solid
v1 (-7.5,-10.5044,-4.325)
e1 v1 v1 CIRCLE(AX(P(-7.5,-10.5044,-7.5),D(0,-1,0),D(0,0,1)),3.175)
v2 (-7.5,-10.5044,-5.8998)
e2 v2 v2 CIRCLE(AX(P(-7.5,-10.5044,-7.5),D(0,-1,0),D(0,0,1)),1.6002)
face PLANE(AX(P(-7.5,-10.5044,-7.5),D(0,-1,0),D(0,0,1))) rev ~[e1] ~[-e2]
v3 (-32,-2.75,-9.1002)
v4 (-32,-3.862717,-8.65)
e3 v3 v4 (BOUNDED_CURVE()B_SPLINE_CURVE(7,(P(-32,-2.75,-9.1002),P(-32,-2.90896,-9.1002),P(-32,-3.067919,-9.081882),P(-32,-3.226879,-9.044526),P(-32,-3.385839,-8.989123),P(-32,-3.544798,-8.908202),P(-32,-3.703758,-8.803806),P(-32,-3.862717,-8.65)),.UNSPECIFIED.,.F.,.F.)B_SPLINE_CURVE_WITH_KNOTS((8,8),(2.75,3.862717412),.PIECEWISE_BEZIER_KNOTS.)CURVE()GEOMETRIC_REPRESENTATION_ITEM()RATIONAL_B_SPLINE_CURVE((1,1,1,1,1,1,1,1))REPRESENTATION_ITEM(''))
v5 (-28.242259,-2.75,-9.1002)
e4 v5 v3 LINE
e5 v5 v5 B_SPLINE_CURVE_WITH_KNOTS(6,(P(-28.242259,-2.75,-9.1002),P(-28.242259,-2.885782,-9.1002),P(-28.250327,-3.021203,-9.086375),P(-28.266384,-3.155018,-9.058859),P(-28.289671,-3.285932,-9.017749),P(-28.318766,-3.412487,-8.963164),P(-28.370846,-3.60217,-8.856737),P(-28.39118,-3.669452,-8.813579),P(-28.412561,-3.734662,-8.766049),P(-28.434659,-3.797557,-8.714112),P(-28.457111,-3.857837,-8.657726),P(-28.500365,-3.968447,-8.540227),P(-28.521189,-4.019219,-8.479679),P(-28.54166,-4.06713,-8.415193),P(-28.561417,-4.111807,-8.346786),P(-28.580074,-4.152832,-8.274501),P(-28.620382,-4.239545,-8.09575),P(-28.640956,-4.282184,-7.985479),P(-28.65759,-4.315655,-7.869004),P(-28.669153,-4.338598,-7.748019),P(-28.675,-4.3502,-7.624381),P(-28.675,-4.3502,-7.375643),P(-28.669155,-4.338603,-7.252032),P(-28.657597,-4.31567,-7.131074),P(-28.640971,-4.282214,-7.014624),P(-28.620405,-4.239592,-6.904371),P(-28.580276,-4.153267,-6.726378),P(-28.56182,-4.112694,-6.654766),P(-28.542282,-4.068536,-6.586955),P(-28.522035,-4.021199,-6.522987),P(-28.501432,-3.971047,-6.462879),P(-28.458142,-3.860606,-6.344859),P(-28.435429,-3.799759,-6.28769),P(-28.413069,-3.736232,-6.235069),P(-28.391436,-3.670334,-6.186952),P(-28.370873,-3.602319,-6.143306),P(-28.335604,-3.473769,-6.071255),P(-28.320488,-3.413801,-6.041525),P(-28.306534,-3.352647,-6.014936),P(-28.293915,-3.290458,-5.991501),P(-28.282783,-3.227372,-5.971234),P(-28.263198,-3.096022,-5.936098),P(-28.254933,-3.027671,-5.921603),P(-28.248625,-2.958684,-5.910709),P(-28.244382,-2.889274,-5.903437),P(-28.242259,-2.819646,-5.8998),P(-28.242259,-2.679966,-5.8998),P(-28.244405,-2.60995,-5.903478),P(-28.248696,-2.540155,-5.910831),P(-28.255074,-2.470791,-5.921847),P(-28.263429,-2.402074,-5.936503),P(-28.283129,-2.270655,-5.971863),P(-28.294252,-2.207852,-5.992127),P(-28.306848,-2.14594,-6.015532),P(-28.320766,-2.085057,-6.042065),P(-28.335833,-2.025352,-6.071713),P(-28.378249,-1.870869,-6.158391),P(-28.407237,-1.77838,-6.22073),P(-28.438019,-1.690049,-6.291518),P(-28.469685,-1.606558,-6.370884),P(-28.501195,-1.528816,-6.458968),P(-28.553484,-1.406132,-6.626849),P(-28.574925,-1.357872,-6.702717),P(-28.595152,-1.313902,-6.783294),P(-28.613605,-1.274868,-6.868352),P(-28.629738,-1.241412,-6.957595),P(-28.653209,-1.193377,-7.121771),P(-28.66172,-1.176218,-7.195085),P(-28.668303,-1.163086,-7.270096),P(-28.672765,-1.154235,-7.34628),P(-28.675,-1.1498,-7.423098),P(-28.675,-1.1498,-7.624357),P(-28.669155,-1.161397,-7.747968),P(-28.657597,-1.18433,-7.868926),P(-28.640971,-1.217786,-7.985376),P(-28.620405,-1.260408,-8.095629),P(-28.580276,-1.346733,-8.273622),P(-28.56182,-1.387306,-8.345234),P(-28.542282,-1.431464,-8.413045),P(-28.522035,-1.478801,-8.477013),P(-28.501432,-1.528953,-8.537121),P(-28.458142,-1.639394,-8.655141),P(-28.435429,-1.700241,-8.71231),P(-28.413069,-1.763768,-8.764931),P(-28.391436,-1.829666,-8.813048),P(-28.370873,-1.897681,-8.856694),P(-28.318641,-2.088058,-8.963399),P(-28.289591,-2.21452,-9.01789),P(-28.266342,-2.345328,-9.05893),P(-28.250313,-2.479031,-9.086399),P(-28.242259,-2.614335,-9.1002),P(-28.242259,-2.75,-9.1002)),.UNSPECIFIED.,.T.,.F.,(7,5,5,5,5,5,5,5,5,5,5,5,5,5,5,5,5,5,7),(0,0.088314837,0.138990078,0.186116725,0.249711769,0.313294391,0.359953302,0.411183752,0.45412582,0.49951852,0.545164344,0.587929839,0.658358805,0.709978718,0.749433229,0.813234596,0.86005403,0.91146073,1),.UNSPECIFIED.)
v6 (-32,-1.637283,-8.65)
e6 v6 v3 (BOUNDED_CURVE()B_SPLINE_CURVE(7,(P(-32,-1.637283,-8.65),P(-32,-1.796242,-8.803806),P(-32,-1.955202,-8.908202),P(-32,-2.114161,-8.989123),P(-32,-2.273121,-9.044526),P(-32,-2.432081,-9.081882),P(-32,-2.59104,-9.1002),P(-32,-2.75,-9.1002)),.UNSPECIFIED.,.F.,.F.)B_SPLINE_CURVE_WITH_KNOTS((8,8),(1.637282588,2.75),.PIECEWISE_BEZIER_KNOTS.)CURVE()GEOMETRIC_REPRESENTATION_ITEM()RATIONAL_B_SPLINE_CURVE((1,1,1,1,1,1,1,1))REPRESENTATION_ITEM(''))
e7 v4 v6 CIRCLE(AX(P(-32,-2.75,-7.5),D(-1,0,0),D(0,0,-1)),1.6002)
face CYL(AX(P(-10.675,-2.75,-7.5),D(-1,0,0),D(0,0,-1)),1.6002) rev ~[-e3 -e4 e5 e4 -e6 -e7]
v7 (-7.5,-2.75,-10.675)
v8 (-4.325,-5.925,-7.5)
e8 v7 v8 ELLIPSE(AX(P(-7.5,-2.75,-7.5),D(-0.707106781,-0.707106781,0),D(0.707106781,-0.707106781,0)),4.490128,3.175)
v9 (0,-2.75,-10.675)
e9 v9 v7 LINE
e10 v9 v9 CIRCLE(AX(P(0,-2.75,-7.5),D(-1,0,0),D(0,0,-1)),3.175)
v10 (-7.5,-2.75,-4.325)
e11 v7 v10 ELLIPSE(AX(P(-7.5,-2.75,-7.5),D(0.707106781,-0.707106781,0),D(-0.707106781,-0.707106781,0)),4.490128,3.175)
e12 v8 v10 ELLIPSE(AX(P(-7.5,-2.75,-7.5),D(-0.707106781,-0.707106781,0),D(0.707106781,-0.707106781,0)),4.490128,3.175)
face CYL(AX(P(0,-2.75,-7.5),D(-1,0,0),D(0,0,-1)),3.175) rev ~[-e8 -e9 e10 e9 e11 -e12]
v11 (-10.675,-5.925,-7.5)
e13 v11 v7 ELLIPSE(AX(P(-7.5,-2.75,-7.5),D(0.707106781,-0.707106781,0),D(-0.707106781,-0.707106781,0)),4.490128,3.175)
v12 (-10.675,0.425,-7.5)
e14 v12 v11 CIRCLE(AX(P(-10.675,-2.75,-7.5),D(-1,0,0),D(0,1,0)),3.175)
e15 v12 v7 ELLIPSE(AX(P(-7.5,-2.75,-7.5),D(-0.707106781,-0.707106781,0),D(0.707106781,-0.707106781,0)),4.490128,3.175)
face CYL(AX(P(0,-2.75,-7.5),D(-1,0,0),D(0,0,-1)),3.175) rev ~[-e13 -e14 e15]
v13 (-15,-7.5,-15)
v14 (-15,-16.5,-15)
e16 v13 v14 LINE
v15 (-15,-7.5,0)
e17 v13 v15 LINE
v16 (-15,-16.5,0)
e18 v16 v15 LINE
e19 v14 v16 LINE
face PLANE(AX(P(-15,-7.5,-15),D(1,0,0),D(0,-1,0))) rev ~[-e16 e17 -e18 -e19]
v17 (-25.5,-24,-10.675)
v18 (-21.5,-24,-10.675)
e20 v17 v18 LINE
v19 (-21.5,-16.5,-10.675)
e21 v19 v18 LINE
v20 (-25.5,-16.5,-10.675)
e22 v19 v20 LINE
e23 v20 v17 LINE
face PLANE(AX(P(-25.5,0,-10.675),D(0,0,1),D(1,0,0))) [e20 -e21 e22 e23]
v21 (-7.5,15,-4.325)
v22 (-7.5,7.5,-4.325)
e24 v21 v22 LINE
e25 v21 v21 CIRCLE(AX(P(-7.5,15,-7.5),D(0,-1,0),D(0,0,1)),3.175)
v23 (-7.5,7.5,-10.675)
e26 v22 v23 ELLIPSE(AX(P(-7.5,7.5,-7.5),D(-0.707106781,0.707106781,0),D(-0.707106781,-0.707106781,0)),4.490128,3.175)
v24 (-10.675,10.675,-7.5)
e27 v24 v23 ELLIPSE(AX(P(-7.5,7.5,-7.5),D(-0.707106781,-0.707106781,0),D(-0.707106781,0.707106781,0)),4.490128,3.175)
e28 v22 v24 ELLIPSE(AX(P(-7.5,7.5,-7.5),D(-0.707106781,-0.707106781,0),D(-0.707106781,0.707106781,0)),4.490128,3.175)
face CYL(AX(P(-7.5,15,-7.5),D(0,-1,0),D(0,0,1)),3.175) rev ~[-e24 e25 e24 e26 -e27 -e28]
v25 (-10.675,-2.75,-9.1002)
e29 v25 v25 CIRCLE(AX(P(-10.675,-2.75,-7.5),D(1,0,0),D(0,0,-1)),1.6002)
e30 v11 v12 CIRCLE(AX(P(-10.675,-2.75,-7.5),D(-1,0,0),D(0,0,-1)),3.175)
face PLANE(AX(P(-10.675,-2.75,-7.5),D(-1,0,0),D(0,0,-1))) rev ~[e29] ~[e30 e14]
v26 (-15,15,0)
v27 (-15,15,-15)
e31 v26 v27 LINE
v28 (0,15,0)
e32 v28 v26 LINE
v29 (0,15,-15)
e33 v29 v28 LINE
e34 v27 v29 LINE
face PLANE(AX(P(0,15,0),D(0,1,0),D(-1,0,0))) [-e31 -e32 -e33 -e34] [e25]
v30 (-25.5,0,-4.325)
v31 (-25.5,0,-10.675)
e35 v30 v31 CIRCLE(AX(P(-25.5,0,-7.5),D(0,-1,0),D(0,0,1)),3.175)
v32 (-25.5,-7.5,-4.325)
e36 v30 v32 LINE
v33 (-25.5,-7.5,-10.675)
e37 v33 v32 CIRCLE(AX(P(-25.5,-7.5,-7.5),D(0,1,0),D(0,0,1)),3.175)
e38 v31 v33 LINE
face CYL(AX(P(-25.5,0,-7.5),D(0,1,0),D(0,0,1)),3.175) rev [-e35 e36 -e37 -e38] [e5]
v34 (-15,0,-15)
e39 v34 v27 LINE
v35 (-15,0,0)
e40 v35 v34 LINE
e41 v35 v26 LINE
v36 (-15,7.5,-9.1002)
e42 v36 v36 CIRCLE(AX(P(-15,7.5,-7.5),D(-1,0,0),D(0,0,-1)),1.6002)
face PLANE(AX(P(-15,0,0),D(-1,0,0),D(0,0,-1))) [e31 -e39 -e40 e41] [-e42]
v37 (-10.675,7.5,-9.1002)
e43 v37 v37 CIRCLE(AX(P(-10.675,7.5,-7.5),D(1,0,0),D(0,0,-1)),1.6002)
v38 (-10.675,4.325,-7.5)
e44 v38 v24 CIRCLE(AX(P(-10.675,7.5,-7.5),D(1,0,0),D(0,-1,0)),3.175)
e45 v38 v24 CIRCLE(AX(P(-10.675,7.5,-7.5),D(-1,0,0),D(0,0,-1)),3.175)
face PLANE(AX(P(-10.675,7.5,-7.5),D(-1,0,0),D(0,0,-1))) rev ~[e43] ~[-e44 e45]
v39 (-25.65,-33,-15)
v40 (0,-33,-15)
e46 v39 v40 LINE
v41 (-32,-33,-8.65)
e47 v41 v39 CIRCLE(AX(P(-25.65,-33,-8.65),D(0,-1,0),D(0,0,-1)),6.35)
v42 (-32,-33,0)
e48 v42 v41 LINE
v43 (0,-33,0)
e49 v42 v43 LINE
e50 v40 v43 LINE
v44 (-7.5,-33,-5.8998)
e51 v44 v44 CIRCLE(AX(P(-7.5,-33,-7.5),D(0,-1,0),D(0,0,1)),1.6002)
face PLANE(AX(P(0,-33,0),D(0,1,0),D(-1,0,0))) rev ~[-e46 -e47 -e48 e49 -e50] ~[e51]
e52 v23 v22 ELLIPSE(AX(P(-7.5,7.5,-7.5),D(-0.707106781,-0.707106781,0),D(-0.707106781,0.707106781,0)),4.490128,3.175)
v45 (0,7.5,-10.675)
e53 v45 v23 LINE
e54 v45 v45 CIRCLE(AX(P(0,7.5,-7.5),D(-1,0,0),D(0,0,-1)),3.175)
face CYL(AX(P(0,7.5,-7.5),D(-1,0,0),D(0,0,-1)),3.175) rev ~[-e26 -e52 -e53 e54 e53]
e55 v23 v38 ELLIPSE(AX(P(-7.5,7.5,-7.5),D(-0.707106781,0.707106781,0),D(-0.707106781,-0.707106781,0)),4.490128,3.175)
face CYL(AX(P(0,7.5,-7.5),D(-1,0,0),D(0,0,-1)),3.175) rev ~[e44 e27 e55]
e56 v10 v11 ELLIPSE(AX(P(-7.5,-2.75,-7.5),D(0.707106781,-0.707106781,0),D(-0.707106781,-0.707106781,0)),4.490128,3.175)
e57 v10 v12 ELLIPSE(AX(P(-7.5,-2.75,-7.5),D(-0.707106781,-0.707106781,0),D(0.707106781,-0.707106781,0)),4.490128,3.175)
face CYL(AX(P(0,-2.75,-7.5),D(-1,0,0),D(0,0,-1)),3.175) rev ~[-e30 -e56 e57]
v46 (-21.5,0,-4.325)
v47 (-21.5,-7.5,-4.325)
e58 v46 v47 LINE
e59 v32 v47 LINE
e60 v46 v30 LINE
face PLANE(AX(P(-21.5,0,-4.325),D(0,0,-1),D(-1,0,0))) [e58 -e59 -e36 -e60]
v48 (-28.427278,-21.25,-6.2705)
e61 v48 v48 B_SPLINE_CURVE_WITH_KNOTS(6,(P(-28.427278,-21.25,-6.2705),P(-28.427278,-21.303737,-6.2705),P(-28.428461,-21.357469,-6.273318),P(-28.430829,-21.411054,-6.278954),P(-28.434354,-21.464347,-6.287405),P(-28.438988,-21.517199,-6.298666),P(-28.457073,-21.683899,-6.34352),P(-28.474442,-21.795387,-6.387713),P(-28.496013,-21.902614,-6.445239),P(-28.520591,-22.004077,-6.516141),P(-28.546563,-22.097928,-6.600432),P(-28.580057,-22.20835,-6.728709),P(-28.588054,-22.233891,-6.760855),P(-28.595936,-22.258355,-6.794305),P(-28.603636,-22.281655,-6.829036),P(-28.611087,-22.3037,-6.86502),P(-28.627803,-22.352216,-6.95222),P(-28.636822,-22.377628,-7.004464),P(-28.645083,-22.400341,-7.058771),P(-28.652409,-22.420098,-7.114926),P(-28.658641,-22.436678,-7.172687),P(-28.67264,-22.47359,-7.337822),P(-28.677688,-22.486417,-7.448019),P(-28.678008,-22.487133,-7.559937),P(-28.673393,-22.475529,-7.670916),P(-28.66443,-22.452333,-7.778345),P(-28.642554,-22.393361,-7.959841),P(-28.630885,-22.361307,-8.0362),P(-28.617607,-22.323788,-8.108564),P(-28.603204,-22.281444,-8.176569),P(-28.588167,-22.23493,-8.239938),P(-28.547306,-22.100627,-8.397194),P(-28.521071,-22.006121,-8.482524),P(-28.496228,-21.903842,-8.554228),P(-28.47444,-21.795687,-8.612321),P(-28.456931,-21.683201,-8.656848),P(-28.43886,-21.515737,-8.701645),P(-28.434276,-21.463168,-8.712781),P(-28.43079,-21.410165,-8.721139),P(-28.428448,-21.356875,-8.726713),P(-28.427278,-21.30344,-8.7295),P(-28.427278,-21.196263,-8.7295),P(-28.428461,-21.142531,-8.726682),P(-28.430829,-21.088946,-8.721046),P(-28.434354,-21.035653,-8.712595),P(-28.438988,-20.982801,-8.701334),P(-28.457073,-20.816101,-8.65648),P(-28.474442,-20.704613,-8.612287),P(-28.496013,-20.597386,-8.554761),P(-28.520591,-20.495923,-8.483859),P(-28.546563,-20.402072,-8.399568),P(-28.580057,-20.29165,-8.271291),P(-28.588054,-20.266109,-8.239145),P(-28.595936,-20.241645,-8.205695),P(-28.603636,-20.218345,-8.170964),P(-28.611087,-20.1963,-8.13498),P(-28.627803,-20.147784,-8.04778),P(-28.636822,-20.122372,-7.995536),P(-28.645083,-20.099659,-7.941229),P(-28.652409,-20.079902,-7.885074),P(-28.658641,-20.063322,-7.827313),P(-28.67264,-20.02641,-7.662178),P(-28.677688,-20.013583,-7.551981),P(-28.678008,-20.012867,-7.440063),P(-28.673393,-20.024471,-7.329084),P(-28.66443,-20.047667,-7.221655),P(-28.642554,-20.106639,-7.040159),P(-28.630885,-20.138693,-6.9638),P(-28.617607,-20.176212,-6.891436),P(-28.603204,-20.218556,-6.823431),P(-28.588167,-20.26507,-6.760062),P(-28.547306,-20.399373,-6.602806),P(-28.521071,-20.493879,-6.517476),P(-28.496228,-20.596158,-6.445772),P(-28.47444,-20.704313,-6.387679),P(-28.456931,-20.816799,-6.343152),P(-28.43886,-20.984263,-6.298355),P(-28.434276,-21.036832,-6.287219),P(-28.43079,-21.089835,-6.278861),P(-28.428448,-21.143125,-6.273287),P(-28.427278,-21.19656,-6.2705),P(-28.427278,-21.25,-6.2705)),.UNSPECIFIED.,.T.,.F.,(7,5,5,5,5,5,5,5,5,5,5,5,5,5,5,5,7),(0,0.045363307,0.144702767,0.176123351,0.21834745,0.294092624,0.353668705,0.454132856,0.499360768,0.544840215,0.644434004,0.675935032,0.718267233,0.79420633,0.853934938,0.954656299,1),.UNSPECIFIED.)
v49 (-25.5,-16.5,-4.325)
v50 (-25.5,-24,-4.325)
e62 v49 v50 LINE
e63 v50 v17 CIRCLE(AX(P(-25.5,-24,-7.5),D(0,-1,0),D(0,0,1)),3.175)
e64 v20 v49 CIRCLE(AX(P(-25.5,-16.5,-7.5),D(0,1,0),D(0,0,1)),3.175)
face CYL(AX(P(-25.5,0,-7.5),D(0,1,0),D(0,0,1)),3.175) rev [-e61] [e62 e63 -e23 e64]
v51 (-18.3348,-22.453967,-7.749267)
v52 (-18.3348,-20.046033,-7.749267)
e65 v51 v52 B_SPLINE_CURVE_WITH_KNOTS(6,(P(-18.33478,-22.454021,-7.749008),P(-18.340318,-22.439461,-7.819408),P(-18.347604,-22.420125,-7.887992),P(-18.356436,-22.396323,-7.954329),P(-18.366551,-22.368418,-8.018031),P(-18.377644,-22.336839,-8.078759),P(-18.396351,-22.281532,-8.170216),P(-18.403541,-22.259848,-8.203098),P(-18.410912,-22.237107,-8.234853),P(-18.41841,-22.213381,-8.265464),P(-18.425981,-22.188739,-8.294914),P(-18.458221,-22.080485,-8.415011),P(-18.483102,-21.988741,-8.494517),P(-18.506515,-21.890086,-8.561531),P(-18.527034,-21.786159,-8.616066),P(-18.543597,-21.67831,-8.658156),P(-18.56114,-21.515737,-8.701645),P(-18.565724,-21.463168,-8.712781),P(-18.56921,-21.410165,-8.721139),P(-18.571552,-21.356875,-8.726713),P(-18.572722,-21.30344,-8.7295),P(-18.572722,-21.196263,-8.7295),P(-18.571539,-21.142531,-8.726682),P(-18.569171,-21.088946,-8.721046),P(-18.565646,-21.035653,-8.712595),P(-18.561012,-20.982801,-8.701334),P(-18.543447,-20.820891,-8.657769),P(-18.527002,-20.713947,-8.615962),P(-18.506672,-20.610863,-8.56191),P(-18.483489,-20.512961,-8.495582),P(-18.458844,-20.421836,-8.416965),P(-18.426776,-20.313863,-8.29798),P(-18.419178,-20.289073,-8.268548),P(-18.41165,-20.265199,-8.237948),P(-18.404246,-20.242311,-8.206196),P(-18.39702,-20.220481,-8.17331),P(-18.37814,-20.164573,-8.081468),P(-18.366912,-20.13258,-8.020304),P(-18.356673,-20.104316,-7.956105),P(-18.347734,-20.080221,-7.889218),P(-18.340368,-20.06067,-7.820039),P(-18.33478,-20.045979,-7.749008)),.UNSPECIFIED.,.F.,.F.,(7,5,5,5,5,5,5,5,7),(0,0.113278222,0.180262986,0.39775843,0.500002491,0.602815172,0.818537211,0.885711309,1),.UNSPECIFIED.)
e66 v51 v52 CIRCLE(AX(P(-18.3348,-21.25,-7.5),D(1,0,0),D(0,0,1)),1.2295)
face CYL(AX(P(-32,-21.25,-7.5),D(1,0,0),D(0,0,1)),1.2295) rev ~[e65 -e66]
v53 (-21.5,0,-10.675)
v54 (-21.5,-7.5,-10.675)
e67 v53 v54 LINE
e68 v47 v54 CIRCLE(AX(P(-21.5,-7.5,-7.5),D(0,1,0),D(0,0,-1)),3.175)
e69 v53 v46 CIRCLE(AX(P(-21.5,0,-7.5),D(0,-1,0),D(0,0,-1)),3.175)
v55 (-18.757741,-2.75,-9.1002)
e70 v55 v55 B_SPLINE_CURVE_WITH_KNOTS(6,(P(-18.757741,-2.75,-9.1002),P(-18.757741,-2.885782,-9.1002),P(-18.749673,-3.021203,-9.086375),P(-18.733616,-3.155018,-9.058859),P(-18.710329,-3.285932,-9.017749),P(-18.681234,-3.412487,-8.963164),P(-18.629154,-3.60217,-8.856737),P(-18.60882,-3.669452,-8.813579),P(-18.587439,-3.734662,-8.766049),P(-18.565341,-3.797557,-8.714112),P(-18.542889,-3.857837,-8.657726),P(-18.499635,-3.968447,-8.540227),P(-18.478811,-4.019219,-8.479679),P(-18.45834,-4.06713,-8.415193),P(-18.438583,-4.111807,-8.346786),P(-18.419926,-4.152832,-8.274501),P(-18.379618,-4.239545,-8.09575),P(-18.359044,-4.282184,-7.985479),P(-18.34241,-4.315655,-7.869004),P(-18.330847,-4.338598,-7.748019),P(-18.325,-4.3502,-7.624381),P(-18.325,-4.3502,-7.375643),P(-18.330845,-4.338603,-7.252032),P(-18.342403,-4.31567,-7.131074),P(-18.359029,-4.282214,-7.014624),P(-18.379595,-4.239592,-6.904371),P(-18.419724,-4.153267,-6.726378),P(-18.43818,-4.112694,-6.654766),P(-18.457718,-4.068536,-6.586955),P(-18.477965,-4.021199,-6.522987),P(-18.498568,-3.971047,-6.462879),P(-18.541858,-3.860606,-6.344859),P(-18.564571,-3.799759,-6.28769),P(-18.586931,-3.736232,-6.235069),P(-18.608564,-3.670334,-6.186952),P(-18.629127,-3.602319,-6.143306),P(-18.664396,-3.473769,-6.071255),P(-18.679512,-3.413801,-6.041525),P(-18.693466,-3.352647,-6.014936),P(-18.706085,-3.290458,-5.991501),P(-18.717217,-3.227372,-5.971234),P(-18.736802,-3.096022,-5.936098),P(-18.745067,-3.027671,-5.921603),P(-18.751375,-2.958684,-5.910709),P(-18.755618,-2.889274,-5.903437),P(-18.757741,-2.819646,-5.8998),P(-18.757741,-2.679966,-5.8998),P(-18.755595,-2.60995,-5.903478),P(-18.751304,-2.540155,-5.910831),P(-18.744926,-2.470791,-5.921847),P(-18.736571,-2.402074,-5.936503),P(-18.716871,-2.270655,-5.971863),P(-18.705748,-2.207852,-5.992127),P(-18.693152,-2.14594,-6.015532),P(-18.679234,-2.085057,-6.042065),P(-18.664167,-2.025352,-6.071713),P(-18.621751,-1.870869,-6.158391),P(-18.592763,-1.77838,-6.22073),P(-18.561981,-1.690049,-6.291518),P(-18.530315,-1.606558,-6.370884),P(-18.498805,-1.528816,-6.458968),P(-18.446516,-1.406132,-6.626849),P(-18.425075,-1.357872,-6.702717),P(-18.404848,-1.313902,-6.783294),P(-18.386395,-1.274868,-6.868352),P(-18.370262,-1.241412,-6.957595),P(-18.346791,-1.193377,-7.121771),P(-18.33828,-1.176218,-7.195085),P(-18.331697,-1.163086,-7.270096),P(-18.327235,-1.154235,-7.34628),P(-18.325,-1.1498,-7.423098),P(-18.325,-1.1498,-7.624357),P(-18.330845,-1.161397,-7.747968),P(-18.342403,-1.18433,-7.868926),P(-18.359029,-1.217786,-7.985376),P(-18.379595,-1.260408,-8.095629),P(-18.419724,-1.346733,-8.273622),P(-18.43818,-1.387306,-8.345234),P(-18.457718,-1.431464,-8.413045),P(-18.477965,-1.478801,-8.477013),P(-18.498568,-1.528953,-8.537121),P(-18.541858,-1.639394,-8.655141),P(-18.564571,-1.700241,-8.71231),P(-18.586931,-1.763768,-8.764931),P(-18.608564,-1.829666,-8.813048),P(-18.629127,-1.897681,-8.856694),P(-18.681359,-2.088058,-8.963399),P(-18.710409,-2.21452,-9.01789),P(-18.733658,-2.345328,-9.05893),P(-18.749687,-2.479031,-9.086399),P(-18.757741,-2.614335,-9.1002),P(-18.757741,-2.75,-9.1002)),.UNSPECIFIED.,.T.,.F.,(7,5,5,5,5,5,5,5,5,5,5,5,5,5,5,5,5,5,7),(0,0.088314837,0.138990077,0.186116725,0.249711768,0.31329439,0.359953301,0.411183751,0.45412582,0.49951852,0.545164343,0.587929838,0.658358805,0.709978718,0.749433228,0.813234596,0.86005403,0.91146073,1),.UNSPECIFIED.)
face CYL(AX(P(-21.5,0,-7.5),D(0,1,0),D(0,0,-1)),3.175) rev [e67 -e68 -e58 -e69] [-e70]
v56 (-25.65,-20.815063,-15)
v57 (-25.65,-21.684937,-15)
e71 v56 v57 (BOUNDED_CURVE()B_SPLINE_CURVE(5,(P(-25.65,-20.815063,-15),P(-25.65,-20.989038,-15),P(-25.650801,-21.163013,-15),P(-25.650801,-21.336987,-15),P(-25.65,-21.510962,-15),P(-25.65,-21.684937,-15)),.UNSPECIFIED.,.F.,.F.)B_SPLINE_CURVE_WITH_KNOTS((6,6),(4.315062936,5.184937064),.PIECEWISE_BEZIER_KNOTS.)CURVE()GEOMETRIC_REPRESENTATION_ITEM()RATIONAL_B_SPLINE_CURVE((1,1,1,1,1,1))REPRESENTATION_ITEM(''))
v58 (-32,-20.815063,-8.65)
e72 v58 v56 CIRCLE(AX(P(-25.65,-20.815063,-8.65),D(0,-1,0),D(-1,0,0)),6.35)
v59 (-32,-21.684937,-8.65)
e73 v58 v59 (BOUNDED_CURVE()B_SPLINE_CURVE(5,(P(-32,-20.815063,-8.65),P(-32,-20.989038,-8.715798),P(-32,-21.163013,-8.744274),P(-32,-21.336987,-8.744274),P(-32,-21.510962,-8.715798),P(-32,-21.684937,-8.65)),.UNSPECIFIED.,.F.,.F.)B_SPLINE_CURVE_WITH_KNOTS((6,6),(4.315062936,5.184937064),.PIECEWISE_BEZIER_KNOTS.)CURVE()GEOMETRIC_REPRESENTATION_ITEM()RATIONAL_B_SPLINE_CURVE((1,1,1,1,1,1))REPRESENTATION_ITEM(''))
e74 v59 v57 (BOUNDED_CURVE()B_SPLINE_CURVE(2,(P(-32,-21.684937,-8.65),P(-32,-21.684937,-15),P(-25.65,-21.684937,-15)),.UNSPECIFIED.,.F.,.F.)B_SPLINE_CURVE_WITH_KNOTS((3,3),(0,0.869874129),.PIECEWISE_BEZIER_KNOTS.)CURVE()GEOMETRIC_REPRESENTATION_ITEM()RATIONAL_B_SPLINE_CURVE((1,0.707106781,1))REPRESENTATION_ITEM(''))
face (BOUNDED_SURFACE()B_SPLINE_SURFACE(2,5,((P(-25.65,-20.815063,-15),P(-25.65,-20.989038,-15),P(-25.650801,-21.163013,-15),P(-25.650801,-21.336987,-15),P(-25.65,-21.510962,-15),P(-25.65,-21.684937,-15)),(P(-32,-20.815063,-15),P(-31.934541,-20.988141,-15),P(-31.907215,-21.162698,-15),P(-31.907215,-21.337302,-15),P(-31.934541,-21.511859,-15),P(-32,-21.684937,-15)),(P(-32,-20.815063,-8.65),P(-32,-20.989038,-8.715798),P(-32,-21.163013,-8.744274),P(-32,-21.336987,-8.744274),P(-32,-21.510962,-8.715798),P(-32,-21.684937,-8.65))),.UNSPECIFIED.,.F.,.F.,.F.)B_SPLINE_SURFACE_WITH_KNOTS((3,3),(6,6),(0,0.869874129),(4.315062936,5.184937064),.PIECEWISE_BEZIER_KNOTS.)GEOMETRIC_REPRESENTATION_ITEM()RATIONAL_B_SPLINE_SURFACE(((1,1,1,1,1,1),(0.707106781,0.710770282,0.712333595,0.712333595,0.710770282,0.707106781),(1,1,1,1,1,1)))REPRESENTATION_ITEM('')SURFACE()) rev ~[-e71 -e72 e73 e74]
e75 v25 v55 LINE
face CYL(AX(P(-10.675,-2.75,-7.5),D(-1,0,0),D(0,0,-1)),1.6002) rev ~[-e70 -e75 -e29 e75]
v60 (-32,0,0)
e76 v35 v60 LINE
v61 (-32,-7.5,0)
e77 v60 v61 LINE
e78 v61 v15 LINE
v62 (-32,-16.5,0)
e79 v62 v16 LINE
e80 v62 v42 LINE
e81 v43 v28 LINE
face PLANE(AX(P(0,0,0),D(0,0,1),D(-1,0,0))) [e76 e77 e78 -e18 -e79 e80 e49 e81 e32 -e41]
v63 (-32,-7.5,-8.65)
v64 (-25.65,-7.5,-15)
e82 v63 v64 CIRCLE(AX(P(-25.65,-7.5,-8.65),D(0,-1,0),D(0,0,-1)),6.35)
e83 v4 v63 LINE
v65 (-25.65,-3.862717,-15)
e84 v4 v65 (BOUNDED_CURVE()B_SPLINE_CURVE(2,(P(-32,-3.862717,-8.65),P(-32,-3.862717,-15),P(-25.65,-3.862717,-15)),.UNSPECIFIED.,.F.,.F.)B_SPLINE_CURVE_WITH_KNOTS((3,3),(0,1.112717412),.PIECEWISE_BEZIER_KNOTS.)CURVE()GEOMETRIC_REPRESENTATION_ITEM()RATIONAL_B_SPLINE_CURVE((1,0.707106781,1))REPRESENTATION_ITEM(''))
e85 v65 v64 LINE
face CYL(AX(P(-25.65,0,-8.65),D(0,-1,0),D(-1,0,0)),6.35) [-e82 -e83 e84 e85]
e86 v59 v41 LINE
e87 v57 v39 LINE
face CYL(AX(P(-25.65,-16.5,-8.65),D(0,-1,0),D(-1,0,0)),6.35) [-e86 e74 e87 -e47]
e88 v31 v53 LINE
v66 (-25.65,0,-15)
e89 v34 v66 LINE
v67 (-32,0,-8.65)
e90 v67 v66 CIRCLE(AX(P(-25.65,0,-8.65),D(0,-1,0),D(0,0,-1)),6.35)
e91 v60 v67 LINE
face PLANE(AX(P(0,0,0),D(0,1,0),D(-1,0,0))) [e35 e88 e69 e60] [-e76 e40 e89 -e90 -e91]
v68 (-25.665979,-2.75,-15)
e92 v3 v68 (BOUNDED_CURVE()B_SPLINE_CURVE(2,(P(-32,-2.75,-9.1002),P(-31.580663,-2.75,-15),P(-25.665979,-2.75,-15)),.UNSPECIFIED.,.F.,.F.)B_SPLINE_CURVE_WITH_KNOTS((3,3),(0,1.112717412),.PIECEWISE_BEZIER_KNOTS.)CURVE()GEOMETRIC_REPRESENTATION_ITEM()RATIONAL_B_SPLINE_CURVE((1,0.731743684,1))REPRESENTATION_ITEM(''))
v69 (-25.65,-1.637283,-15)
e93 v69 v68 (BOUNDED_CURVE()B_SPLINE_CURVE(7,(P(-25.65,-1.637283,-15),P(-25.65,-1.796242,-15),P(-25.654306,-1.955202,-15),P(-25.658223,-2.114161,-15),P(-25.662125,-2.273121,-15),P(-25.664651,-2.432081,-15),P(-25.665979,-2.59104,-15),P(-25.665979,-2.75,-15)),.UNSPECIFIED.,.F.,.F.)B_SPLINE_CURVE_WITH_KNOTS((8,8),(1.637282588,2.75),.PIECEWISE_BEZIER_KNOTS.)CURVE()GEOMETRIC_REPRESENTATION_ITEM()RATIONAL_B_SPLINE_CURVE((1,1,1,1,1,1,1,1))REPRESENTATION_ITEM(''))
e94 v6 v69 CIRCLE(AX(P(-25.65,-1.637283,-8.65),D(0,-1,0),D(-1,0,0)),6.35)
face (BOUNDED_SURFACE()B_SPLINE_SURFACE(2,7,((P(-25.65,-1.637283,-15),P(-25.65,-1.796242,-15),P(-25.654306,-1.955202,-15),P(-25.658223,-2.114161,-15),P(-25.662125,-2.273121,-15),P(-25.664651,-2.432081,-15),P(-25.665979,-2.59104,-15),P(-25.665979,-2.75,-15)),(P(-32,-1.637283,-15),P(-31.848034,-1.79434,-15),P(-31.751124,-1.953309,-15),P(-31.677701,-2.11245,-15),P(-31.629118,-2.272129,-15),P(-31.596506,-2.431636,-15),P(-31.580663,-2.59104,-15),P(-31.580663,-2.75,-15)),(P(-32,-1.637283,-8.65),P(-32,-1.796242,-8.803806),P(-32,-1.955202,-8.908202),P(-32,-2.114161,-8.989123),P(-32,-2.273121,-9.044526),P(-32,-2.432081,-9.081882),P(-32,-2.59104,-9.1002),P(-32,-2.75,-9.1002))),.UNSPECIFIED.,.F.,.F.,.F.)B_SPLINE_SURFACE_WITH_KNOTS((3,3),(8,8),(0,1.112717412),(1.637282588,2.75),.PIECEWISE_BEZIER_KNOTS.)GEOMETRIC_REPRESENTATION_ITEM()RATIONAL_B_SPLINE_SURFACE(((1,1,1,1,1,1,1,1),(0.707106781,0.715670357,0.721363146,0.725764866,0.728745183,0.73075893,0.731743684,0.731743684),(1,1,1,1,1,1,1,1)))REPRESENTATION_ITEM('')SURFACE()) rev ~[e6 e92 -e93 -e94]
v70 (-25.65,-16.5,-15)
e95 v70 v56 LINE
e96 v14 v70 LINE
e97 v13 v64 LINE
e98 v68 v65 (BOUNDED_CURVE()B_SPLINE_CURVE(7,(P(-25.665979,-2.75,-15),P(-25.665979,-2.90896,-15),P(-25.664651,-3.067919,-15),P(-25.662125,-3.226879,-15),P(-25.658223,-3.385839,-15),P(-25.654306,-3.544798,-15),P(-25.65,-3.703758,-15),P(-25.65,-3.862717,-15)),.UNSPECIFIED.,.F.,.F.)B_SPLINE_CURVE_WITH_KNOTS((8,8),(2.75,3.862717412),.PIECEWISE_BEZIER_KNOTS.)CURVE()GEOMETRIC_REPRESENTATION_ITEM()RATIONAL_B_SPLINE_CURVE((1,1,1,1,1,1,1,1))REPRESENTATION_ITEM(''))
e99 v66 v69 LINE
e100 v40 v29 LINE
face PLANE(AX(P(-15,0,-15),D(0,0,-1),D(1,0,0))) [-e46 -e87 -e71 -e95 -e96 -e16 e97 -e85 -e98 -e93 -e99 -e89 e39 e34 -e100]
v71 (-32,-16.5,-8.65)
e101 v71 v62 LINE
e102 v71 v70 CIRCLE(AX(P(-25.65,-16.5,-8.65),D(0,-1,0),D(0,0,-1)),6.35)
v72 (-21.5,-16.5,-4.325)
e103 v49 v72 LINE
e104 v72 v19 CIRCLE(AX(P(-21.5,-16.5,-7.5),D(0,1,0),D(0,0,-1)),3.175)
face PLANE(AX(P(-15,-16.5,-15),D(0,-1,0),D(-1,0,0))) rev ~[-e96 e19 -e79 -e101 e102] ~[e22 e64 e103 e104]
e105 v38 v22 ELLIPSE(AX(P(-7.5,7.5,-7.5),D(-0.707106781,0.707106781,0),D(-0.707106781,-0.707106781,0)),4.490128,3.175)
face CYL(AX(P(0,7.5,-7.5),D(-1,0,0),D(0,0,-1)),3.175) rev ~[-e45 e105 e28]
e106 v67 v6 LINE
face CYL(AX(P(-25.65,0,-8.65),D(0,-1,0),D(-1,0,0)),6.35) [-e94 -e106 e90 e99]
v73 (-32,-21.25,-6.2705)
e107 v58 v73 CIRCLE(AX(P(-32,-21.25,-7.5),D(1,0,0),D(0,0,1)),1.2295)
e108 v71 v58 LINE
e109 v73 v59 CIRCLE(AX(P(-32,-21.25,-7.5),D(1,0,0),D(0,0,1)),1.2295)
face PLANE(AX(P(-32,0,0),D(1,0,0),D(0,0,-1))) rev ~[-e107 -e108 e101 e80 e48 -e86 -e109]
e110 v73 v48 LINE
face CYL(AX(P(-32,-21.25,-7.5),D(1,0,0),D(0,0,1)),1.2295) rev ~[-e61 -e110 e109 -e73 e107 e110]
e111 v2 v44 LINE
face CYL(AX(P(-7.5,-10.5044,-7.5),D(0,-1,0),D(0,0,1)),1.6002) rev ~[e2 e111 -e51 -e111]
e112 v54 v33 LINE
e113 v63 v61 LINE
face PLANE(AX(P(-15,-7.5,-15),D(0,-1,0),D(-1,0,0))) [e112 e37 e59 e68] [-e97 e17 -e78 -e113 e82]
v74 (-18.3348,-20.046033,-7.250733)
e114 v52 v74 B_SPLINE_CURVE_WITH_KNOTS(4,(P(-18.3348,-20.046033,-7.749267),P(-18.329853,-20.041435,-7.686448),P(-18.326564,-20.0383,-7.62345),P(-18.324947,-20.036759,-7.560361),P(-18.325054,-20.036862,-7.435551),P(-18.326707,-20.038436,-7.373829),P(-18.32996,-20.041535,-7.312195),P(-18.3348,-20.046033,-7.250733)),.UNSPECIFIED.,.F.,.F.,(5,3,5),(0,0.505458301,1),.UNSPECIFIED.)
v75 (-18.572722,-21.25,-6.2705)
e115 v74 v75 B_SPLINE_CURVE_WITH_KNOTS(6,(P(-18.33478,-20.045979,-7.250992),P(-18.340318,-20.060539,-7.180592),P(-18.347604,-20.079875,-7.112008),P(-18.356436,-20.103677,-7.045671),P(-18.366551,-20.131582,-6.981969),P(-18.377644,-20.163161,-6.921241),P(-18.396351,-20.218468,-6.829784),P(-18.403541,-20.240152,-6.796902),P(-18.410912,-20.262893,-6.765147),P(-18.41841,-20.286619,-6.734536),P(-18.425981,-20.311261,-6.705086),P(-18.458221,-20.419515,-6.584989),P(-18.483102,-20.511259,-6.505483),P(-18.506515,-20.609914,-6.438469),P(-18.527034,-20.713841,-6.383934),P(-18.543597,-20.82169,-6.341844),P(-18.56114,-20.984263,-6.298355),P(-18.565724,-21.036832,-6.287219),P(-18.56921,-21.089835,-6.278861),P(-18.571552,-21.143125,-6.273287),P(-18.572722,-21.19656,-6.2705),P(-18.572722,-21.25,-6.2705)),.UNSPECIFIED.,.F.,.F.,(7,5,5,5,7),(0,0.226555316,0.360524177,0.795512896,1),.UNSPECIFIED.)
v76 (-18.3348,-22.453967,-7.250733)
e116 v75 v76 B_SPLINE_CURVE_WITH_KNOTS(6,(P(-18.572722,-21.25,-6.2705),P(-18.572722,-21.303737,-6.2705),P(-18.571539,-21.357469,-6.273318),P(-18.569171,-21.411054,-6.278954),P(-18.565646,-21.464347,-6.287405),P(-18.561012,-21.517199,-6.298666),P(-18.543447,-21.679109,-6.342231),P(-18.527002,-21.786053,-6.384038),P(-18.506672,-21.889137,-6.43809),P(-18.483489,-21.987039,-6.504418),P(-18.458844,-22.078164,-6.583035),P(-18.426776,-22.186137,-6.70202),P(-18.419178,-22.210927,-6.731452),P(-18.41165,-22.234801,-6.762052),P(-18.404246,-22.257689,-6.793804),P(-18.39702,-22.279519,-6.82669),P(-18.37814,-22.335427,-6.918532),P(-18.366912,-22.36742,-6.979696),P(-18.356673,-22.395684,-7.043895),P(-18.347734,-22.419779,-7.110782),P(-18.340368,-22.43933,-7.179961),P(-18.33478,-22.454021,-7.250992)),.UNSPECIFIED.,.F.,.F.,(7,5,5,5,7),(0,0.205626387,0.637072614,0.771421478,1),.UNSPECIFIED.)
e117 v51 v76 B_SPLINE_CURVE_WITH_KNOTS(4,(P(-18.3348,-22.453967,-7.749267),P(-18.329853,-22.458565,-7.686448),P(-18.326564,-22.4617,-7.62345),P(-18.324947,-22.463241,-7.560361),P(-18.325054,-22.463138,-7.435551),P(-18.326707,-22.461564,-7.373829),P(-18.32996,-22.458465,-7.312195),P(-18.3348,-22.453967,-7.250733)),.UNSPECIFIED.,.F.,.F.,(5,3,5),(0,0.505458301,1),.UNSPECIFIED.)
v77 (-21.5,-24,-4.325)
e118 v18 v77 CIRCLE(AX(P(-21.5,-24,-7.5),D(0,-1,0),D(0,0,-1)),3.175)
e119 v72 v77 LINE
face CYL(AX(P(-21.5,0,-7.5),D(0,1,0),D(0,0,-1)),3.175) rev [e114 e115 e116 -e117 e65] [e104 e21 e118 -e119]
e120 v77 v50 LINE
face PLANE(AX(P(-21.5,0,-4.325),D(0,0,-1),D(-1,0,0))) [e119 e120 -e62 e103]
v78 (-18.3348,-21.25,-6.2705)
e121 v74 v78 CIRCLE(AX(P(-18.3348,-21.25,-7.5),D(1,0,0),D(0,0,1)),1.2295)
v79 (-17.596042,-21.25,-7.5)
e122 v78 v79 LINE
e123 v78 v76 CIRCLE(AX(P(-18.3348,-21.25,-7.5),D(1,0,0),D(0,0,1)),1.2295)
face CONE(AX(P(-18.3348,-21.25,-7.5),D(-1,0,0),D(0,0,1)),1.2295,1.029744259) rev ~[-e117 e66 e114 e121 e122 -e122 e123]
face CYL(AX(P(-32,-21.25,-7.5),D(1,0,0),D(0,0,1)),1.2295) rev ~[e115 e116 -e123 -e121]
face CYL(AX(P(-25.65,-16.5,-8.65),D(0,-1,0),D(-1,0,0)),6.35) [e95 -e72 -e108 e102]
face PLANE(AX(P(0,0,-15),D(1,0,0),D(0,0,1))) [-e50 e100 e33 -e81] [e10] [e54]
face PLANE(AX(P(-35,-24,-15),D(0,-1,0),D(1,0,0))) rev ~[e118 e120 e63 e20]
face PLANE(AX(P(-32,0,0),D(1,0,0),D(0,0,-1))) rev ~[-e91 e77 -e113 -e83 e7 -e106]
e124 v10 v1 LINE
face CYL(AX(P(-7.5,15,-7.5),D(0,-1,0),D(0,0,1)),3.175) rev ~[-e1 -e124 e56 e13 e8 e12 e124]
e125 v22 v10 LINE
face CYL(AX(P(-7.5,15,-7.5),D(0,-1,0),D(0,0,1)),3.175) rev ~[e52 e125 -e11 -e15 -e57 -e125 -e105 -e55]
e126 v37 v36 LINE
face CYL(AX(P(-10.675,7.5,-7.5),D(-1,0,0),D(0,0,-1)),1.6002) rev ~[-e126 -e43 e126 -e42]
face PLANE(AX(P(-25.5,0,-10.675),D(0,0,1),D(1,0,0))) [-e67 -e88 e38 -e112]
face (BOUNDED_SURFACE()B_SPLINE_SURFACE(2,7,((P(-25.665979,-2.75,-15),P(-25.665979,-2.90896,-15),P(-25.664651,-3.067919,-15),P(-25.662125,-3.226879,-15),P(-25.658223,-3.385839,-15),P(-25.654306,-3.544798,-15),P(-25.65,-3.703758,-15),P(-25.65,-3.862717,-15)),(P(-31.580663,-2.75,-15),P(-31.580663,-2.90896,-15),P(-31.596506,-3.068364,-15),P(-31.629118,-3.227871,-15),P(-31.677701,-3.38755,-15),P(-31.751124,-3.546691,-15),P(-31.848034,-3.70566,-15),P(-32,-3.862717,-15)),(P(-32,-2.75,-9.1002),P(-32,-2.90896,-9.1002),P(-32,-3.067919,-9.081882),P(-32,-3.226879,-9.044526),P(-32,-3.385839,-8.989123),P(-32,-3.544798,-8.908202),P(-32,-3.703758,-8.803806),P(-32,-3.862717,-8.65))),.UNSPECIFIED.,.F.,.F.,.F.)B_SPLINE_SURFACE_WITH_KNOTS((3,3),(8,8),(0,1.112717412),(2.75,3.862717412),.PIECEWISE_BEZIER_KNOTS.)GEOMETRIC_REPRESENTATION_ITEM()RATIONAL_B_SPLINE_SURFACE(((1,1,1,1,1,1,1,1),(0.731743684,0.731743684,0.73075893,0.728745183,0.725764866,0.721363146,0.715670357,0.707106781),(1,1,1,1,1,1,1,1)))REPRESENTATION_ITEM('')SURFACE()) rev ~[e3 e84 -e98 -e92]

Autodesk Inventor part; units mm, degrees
ref_plane "YZ Plane" through (0, 0, 0) normal (1, 0, 0) x (0, 1, 0)
ref_plane "XZ Plane" through (0, 0, 0) normal (0, 1, 0) x (-1, 0, 0)
ref_plane "XY Plane" through (0, 0, 0) normal (0, 0, 1) x (1, 0, 0)
sketch "Base Profile" plane through (0, 0, 0) normal (0, 1, 0) x (-1, 0, 0)
  line L0 (0, 0) -> (15, 0)
  line L1 (15, 0) -> (15, -15)
  line L2 (15, -15) -> (0, -15)
  line L3 (0, -15) -> (0, 0)
  line L4 (15, 0) -> (32, 0)
  line L5 (32, 0) -> (32, -15)
  line L6 (32, -15) -> (15, -15)
  line L7 (15, -15) -> (15, 0)
  dimension "d164" = 15
  dimension "d165" = 15
  dimension "d166" = 17
  dimension "d167" = 15
extrude "Stock" add sketch "Base Profile" against normal blind 33
extrude "Extrusion Post" add sketch "Base Profile" along normal blind 15 contours L0 L1 L2 L3
sketch "Side Profile" plane through (0, -33, -15) normal (0, 0, -1) x (-1, 0, 0)
  line L0 (0, 0) -> (0, 48) projected
  line L1 (32, 0) -> (0, 0) projected
  line L2 (32, 33) -> (32, 0) projected
  line L3 (15, 33) -> (32, 33) projected
  line L4 (15, 33) -> (15, 48) projected
  line L5 (0, 48) -> (15, 48) projected
  line L6 (0, 16.5) -> (32, 16.5)
  line L7 (0, 25.5) -> (32, 25.5)
  line L8 (15, 33) -> (15, 0)
  point P0 (15, 16.5)
  point P1 (15, 25.5)
  dimension "d354" = 7.5
  dimension "d355" = 16.5
extrude "Lower Half Cut" cut sketch "Side Profile" against normal through all contours L8 L7 L2 L6
sketch "Bottom Profile" plane through (-35, 0, -15) normal (0, -1, 0) x (1, 0, 0)
  line L0 (13.5, 7.5) -> (9.5, 7.5) construction
  line L1 (13.5, 10.675) -> (9.5, 10.675)
  line L2 (9.5, 4.325) -> (13.5, 4.325)
  arc A0 (13.5, 4.325) -> (13.5, 10.675) centre (13.5, 7.5) ccw
  arc A1 (9.5, 10.675) -> (9.5, 4.325) centre (9.5, 7.5) ccw
  line L3 (3, 15) -> (3, 0) projected
  line L4 (35, 15) -> (3, 15) projected
  point P0 (11.5, 7.5)
  dimension "d291" = 4
  dimension "d292" = 6.35
  dimension "d293" = 6.5
  dimension "d294" = 7.5
extrude "Slot Cut" cut sketch "Bottom Profile" along normal blind 24
sketch "Front Hole Pattern" plane through (0, -33, 0) normal (1, 0, 0) x (0, 0, -1)
  line L0 (0, 0) -> (0, 48) projected
  circle A0 centre (7.5, 40.5) radius 3.175
  line L1 (0, 48) -> (15, 48) projected
  circle A1 centre (7.5, 30.25) radius 3.175
  dimension "d317" = 6.35
  dimension "d318" = 7.5
  dimension "d319" = 7.5
  dimension "d368" = 17.75
hole "Front Mounting Hole" at (0, 7.5, -7.5) direction (-1, 0, 0) diameter 3.2004 end through all counterbore diameter 6.35 counterbore depth 10.675 clearance for "Socket Head Cap Screw" size "M3" standard "Ansi Metric M Profile"
sketch "Sketch33" plane through (0, 15, 0) normal (0, 1, 0) x (1, 0, 0)
  line L0 (-15, 15) -> (-15, 0) projected
  line L1 (-15, 0) -> (0, 0) projected
  line L2 (0, 0) -> (0, 15) projected
  line L3 (0, 15) -> (-15, 15) projected
  circle A0 centre (-7.5, 7.5) radius 3.175
  dimension "d340" = 6.35
  dimension "d341" = 7.5
  dimension "d342" = 7.5
hole "Top Mounting Hole" at (-7.5, 15, -7.5) direction (0, -1, 0) diameter 3.2004 end through all counterbore diameter 6.35 counterbore depth 25.5044 clearance for "Socket Head Cap Screw" size "M3" standard "Ansi Metric M Profile"
hole "Front Adjustment Hole" at (0, -2.75, -7.5) direction (-1, 0, 0) diameter 3.2004 end through all counterbore diameter 6.35 counterbore depth 10.675 clearance for "Socket Head Cap Screw" size "M3" standard "Ansi Metric M Profile"
sketch "Rear Hole Patttern" plane through (-32, -33, -15) normal (-1, 0, 0) x (0, 0, 1)
  line L0 (0, 25.5) -> (15, 25.5) construction
  line L1 (15, 33) -> (15, 25.5) construction
  line L2 (0, 33) -> (15, 33) construction
  line L3 (0, 33) -> (0, 25.5) construction
  line L4 (15, 16.5) -> (0, 16.5) construction
  line L5 (0, 16.5) -> (0, 0) construction
  line L6 (15, 0) -> (0, 0) construction
  line L7 (15, 16.5) -> (15, 0) construction
  circle A0 centre (7.5, 30.25) radius 1.5
  circle A1 centre (7.5, 11.75) radius 1.5
  line L8 (0, 27.5) -> (15, 27.5) construction
  line L9 (0, 16.5) -> (0, 0) projected
  line L10 (0, 14.5) -> (15, 14.5) construction
  dimension "d357" = 3
  dimension "d358" = 7.5
  dimension "d360" = 3
  dimension "d362" = 7.5
  dimension "d364" = 2
  dimension "d365" = 2
  dimension "d366" = 2.75
  dimension "d367" = 2.75
hole "Rear Holes" at (-32, -21.25, -7.5) direction (1, 0, 0) diameter 2.459 depth 13.6652 tip angle 118 thread size "M3x0.5" class "6H" standard "ANSI Metric M Profile"
fillet "Fillet" radius 6.35 2 edges at (-32, -3.75, -15) (-32, -24.75, -15)
equation "\"d164\" = extrusionWidth"
equation "\"d165\" = extrusionWidth"
equation "\"d166\" = idlerLength"
equation "\"d167\" = d165"
equation "\"d168\" = extrusionOffset"
equation "\"extrusionWidth\" = 15"
equation "\"idlerLength\" = 17"
equation "\"bearingOffsetFromBottom\" = 7.5"
equation "\"extrusionOffset\" = 33"
equation "\"bearingStackHeight\" = 9"
equation "\"bearingSlotLength\" = 4"
equation "\"bearingClearance\" = 13"
equation "\"pinSupportLength\" = 2"
properties part number "B Idler (Tulip)" material "Aluminum 6061"
